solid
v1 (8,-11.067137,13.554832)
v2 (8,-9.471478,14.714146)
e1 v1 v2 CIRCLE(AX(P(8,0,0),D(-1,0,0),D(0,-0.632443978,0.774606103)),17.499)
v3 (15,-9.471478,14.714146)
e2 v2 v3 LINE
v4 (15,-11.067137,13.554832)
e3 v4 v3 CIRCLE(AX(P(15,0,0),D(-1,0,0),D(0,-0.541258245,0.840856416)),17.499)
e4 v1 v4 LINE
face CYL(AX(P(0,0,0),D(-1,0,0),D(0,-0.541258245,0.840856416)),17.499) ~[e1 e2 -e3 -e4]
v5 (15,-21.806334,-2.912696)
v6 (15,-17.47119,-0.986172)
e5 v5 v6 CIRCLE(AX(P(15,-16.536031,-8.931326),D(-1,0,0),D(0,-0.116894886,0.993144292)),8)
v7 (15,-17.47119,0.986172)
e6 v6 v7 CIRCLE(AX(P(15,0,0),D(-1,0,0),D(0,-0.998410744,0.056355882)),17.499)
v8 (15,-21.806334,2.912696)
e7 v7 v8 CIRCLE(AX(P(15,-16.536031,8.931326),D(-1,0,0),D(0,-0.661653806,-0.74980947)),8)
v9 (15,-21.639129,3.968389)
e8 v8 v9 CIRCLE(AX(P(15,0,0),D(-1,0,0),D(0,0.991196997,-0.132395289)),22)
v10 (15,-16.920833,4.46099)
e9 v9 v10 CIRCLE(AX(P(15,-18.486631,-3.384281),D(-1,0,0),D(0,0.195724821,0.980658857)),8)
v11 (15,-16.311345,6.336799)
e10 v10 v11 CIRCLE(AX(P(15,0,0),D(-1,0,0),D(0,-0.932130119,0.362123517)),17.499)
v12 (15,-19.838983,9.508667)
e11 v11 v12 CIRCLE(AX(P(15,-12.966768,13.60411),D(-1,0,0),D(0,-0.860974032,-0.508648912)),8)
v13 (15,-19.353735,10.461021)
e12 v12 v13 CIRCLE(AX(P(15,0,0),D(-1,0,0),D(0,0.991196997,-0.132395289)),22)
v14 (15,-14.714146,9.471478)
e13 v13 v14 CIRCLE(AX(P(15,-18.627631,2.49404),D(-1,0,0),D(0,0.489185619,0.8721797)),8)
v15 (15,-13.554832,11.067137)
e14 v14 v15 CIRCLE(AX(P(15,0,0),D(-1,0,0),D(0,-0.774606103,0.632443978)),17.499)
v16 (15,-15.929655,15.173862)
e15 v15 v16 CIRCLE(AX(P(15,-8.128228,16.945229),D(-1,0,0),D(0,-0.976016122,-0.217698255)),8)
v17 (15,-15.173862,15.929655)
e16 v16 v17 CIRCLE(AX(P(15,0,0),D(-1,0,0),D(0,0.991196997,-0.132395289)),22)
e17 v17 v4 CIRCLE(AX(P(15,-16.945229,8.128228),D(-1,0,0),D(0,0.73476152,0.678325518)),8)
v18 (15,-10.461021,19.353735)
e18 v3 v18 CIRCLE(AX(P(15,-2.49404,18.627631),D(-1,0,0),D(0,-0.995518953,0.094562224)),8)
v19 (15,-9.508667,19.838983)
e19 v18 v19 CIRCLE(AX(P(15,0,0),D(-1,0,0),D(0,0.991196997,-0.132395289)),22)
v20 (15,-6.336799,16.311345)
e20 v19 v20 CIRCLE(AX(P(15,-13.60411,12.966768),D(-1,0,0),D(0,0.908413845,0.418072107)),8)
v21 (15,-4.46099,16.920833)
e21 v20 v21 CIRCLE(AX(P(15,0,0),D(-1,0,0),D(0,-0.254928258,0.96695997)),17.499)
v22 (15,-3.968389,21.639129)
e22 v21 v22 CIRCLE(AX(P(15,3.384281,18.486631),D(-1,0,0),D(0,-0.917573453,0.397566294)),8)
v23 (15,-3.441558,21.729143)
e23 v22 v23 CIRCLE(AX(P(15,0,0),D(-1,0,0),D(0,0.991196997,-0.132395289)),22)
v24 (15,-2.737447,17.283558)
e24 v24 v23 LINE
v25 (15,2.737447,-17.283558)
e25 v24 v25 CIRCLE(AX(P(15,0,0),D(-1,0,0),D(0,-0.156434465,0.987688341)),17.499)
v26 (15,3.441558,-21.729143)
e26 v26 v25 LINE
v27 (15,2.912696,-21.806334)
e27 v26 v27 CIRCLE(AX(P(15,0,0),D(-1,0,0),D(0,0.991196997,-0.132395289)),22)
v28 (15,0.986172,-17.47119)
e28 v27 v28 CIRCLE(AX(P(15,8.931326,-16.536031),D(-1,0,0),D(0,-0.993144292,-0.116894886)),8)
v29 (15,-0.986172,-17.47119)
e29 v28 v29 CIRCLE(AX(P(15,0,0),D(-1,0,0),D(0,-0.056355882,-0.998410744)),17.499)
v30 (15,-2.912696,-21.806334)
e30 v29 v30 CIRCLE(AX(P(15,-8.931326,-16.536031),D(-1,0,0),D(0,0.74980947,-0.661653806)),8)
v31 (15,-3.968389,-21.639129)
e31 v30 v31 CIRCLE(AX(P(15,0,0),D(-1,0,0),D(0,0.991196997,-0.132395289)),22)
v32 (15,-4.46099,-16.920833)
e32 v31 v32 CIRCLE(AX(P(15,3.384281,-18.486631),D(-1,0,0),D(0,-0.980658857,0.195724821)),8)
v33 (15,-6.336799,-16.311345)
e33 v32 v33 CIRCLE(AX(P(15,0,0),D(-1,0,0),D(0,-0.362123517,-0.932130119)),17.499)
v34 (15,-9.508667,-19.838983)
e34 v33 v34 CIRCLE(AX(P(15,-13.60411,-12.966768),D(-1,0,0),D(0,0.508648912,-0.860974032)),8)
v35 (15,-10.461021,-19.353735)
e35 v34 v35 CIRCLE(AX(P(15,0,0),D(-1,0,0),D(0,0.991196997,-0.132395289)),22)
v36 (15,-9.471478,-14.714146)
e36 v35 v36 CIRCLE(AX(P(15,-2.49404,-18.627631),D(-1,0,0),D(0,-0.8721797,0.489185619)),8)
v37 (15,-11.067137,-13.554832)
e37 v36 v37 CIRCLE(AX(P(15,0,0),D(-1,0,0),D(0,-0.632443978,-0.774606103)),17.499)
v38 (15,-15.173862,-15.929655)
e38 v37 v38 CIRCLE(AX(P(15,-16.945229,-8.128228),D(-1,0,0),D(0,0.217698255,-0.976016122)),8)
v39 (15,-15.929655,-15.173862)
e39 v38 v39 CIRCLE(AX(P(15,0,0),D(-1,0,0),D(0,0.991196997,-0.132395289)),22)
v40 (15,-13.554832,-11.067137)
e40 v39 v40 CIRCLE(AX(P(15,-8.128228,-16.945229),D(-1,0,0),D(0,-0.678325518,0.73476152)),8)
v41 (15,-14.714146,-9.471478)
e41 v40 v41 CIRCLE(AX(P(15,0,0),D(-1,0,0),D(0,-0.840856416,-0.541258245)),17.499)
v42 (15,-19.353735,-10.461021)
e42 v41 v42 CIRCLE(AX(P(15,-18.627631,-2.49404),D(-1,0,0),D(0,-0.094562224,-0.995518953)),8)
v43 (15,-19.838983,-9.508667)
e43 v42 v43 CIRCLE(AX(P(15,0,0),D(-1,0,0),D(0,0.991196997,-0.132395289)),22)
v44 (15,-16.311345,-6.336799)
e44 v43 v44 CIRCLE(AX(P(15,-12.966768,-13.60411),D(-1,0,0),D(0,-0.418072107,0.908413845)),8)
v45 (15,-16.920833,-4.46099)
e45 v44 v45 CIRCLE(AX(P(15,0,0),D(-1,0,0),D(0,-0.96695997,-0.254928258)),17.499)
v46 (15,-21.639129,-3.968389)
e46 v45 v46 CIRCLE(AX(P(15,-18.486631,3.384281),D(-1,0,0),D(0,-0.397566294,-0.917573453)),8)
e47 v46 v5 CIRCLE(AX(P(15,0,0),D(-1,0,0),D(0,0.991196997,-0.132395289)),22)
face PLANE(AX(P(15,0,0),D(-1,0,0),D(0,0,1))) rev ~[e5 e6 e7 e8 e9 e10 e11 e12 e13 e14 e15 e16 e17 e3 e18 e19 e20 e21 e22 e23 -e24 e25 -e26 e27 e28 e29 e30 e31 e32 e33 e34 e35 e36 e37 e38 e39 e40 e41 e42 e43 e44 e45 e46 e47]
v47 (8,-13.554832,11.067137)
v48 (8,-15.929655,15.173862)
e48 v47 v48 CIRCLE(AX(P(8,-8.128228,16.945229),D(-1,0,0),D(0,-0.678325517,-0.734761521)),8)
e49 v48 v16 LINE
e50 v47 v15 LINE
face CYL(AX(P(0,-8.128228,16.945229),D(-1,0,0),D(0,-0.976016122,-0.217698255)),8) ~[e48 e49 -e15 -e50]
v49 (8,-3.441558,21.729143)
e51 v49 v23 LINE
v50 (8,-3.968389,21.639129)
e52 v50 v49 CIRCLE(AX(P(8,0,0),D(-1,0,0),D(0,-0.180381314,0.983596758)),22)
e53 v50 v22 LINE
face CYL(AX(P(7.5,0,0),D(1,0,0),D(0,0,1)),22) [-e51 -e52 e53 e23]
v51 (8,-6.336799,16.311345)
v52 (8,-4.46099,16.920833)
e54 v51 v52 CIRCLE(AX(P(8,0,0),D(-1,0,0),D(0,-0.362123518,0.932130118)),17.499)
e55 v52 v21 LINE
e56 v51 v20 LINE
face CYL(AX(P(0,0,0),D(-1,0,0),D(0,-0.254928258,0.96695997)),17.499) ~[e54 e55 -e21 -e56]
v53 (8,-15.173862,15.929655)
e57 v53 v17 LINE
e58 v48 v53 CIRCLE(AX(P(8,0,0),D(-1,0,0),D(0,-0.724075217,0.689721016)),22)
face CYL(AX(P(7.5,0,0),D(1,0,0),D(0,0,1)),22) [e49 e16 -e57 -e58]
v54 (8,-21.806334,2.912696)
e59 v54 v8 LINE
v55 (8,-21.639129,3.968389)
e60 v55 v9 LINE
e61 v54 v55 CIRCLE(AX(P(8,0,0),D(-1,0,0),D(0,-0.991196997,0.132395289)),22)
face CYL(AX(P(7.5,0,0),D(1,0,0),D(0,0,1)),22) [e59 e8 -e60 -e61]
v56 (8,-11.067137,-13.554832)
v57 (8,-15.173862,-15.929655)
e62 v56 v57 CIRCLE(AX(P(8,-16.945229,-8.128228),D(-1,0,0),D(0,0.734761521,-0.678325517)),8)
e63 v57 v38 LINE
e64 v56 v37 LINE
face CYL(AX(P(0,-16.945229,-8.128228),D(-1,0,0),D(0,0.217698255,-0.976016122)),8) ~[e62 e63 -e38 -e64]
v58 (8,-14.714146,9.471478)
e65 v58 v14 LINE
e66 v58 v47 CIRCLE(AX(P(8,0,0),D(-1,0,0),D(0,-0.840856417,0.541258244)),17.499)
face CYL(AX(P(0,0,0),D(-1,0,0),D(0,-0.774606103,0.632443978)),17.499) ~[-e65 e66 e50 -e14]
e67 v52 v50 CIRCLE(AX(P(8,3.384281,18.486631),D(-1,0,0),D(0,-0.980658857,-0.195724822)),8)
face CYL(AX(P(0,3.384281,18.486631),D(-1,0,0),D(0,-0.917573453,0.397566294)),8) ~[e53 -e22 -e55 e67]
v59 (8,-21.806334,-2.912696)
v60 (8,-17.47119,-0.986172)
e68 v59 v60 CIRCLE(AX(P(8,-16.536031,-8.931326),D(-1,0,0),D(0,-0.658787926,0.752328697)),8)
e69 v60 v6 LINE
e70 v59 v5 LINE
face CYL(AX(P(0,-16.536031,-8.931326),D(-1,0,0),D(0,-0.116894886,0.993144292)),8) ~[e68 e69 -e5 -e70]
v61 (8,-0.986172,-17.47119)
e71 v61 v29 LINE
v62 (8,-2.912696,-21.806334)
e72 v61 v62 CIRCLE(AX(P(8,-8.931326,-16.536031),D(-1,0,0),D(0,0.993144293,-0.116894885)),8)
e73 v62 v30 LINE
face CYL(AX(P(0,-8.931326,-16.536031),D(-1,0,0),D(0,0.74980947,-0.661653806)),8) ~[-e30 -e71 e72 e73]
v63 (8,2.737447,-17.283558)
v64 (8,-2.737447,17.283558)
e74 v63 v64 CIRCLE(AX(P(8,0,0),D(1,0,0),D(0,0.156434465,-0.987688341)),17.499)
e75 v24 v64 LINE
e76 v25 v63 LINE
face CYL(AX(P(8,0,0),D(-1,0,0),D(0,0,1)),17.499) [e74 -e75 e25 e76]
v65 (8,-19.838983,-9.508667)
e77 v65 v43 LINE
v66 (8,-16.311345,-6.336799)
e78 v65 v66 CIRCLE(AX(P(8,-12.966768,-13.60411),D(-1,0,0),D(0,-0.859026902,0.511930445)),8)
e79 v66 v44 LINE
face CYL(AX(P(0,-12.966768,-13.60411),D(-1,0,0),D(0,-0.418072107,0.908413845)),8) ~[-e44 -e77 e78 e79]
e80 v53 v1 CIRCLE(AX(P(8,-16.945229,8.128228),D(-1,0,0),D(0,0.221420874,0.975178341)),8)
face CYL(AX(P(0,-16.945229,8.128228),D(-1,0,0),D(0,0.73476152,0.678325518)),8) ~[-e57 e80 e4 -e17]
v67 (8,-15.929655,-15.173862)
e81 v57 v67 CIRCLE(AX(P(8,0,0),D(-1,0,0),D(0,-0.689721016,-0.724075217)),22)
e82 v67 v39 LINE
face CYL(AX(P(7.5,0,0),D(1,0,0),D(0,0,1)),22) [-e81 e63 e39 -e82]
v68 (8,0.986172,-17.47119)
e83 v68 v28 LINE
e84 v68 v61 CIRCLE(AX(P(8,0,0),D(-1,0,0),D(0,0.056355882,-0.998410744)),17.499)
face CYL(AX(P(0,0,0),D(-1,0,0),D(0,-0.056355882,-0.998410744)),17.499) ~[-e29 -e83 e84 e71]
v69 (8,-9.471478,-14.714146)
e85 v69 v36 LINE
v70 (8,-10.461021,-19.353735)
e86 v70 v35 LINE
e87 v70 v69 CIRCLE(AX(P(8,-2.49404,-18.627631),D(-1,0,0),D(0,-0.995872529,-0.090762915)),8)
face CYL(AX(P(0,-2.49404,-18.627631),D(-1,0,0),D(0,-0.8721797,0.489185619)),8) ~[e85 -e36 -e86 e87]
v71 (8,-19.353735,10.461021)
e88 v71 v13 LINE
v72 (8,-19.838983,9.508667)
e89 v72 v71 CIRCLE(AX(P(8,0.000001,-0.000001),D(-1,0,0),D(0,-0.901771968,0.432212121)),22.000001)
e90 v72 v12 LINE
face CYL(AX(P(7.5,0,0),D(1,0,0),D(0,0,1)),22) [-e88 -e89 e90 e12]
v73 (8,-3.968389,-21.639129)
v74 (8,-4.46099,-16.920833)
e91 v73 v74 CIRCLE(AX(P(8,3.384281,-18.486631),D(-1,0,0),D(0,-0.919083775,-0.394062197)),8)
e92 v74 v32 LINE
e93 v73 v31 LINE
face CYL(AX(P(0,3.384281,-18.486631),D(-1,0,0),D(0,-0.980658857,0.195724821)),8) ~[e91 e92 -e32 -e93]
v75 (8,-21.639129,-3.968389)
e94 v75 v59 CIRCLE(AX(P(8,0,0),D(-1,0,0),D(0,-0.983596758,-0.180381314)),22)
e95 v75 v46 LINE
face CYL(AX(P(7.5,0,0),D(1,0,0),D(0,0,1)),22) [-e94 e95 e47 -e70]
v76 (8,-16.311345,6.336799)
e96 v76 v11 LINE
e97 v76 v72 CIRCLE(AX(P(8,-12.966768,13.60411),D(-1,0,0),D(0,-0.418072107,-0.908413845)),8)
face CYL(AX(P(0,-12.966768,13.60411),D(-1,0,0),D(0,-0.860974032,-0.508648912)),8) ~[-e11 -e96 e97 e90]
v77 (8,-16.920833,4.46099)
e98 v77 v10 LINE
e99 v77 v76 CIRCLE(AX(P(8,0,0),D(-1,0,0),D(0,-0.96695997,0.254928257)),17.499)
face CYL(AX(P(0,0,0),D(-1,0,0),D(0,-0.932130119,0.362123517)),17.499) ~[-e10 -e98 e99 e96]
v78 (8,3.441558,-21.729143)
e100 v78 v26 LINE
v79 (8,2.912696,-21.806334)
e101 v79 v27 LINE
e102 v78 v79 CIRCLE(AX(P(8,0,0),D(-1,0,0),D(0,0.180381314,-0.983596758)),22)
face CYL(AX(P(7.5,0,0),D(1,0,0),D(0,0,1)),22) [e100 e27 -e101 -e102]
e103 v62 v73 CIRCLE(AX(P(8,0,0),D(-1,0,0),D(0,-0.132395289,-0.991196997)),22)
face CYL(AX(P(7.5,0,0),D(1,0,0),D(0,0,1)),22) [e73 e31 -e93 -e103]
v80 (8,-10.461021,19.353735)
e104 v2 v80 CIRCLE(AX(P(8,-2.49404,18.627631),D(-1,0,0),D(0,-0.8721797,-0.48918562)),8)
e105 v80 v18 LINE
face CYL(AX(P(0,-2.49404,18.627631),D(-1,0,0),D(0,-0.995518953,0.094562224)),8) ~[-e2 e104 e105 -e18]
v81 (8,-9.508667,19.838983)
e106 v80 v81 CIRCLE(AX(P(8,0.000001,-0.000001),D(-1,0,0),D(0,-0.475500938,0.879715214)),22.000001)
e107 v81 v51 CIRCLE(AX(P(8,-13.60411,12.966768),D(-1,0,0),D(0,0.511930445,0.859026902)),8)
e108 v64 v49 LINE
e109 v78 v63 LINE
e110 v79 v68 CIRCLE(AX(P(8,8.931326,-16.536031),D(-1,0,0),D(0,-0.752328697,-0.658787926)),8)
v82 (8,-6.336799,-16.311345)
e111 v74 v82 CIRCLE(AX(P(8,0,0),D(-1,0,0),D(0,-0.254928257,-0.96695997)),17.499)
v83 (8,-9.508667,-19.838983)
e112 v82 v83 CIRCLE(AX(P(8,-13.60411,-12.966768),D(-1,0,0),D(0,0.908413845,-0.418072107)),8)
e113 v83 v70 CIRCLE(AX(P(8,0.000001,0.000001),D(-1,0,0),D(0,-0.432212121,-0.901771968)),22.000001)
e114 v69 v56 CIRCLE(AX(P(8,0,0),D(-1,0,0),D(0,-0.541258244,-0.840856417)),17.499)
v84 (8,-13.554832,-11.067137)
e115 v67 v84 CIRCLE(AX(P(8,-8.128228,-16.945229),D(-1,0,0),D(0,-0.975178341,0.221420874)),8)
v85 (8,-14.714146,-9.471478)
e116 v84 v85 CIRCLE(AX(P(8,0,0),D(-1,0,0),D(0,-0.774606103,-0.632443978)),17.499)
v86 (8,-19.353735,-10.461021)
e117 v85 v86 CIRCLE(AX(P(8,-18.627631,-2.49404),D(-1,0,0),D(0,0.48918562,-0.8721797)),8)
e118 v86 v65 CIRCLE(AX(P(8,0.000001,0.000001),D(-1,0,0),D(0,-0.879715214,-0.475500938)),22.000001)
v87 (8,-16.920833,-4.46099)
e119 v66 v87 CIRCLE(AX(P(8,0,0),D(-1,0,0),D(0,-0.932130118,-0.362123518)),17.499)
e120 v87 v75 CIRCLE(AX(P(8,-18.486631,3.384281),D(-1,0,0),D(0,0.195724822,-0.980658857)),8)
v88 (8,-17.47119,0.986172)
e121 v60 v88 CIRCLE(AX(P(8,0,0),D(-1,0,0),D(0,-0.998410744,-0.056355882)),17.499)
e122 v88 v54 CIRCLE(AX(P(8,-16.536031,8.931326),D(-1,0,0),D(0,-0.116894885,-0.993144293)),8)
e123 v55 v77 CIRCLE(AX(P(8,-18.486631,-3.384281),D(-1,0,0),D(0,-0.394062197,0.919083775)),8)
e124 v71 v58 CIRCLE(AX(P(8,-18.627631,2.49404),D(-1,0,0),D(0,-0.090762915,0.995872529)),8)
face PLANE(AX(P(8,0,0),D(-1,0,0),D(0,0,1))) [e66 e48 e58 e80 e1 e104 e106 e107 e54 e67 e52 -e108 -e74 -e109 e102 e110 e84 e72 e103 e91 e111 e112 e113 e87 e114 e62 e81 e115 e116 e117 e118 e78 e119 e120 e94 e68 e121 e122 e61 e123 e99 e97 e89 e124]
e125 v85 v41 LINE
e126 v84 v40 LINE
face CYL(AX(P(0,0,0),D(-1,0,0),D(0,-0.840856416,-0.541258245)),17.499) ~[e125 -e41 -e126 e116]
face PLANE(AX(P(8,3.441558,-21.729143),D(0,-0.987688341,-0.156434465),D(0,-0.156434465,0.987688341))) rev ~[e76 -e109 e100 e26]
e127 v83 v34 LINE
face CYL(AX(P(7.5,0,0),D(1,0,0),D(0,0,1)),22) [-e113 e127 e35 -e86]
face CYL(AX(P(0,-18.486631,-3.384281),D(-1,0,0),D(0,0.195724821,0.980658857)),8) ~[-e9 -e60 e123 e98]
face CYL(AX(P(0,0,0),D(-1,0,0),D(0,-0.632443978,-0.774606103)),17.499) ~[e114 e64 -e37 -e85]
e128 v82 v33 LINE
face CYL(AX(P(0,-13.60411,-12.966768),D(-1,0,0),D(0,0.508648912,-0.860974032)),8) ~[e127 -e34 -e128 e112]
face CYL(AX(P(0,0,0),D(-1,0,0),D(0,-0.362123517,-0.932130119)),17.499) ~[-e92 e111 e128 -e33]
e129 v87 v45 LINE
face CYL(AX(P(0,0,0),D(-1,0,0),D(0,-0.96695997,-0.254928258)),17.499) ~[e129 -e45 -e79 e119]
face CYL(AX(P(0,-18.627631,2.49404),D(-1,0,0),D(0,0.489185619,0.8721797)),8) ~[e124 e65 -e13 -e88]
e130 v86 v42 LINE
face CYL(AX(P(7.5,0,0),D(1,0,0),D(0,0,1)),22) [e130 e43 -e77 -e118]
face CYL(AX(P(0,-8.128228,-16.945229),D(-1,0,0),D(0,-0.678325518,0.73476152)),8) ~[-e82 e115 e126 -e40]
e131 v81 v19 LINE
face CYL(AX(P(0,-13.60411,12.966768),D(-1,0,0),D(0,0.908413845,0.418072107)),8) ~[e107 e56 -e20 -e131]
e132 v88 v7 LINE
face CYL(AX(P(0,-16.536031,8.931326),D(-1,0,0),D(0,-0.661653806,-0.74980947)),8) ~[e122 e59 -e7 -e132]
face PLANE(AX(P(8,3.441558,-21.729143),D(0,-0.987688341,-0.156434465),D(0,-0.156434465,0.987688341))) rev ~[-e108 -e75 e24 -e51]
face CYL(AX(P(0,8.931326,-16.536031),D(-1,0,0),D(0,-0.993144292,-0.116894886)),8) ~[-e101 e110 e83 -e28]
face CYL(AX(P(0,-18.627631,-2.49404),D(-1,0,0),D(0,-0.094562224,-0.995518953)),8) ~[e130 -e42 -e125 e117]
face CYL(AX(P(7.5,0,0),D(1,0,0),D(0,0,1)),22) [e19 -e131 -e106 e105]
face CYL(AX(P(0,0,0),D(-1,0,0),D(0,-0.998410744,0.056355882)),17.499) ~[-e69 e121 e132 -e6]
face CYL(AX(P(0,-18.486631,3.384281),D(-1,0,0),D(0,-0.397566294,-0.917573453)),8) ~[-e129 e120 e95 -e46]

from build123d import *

# Parameters (mm, degrees)
BASPROSKE_W         = 15
BASPROSKE_H         = 22
TOOTHCUT_DEPTH      = 35.539832078
TEETHCUTS_COUNT     = 20
TEETHCUTS_ANGLE     = 342
BORSKE_R            = 0.5
BORE_DEPTH          = 50.0000508
SKETCH1_R           = 11.1
CUT_EXTRUDE1_DEPTH  = 16
CUT_EXTRUDE2_DEPTH  = 8
SKETCH3_R           = 11.1
BOSS_EXTRUDE1_DEPTH = 7
CUT_EXTRUDE3_DEPTH  = 7
SKETCH5_R           = 17.499
BOSS_EXTRUDE2_DEPTH = 7


with BuildPart() as part:
    # BasProSke → Base-Revolve (revolve)
    with BuildSketch(Plane(origin=(0, 0, 0), x_dir=(1, 0, 0), z_dir=(0, 1, 0)), mode=Mode.PRIVATE) as base_revolve_sk:
        with Locations((7.5, 11)):
            Rectangle(BASPROSKE_W, BASPROSKE_H)
    revolve(base_revolve_sk.sketch.rotate(Axis((-10, 0, 0), (1, 0, 0)), 180), axis=Axis((-10, 0, 0), (1, 0, 0)))

    # TooCutSke → ToothCut (cut, through all)
    with BuildSketch(Plane(origin=(0, 0, 0), x_dir=(0, 0, -1), z_dir=(1, 0, 0))):
        with BuildLine():
            ThreePointArc((0.986171591, 17.471189616), (0, 17.499), (-0.986171591, 17.471189616))
            ThreePointArc((-0.986171591, 17.471189616), (-1.626916196, 19.798789858), (-2.932850173, 21.829260982))
            ThreePointArc((-2.932850173, 21.829260982), (0, 22.0254), (2.932850173, 21.829260982))
            ThreePointArc((2.932850173, 21.829260982), (1.626916196, 19.798789858), (0.986171591, 17.471189616))
        make_face()
    toothcut = extrude(amount=TOOTHCUT_DEPTH, mode=Mode.SUBTRACT)

    # TeethCuts: ToothCut ×20 about axis
    teethcuts_axis = Axis((-10, 0, 0), (1, 0, 0))
    for i in range(1, TEETHCUTS_COUNT):
        add(toothcut.rotate(teethcuts_axis, i * TEETHCUTS_ANGLE / (TEETHCUTS_COUNT - 1)), mode=Mode.SUBTRACT)

    # BorSke → Bore (cut, symmetric)
    with BuildSketch(Plane(origin=(0, 0, 0), x_dir=(0, 0, -1), z_dir=(1, 0, 0))):
        with Locations(Location((0, 0, 0), (0, 0, 180))):
            Circle(BORSKE_R)
    extrude(amount=BORE_DEPTH, both=True, mode=Mode.SUBTRACT)

    # Sketch1 → Cut-Extrude1 (cut)
    with BuildSketch(Plane.ZY):
        Circle(SKETCH1_R)
    extrude(amount=-CUT_EXTRUDE1_DEPTH, mode=Mode.SUBTRACT)

    # Sketch2 → Cut-Extrude2 (cut)
    with BuildSketch(Plane.ZY):
        with BuildLine():
            ThreePointArc((17.471189616, 0.986171591), (19.784848102, 1.620704589), (21.806333941, 2.912696354))
            ThreePointArc((21.806333941, 2.912696354), (21.729143493, 3.441558231), (21.639128664, 3.968388926))
            ThreePointArc((21.639128664, 3.968388926), (19.317333972, 4.572472634), (16.920832513, 4.460989585))
            ThreePointArc((16.920832513, 4.460989585), (16.642537979, 5.407488385), (16.31134495, 6.336799421))
            ThreePointArc((16.31134495, 6.336799421), (18.31568345, 7.655235955), (19.838983319, 9.50866662))
            ThreePointArc((19.838983319, 9.50866662), (19.602143532, 9.987790994), (19.353734704, 10.461020648))
            ThreePointArc((19.353734704, 10.461020648), (16.958904602, 10.318064378), (14.714146429, 9.471478019))
            ThreePointArc((14.714146429, 9.471478019), (14.156988385, 10.28565413), (13.554832194, 11.067137173))
            ThreePointArc((13.554832194, 11.067137173), (15.05365209, 12.940419489), (15.929654782, 15.173862347))
            ThreePointArc((15.929654782, 15.173862347), (15.556349186, 15.556349186), (15.173862347, 15.929654782))
            ThreePointArc((15.173862347, 15.929654782), (12.940419489, 15.05365209), (11.067137173, 13.554832194))
            ThreePointArc((11.067137173, 13.554832194), (10.28565413, 14.156988385), (9.471478019, 14.714146429))
            ThreePointArc((9.471478019, 14.714146429), (10.318064378, 16.958904602), (10.461020648, 19.353734704))
            ThreePointArc((10.461020648, 19.353734704), (9.987790994, 19.602143532), (9.50866662, 19.838983319))
            ThreePointArc((9.50866662, 19.838983319), (7.655235955, 18.31568345), (6.336799421, 16.31134495))
            ThreePointArc((6.336799421, 16.31134495), (5.407488385, 16.642537979), (4.460989585, 16.920832513))
            ThreePointArc((4.460989585, 16.920832513), (4.572472634, 19.317333972), (3.968388926, 21.639128664))
            ThreePointArc((3.968388926, 21.639128664), (3.441558231, 21.729143493), (2.912696354, 21.806333941))
            ThreePointArc((2.912696354, 21.806333941), (1.620704589, 19.784848102), (0.986171591, 17.471189616))
            ThreePointArc((0.986171591, 17.471189616), (0, 17.499), (-0.986171591, 17.471189616))
            ThreePointArc((-0.986171591, 17.471189616), (-1.620704589, 19.784848102), (-2.912696354, 21.806333941))
            ThreePointArc((-2.912696354, 21.806333941), (-3.441558231, 21.729143493), (-3.968388926, 21.639128664))
            ThreePointArc((-3.968388926, 21.639128664), (-4.572472634, 19.317333972), (-4.460989585, 16.920832513))
            ThreePointArc((-4.460989585, 16.920832513), (-5.407488385, 16.642537979), (-6.336799421, 16.31134495))
            ThreePointArc((-6.336799421, 16.31134495), (-7.655235955, 18.31568345), (-9.50866662, 19.838983319))
            ThreePointArc((-9.50866662, 19.838983319), (-9.987790994, 19.602143532), (-10.461020648, 19.353734704))
            ThreePointArc((-10.461020648, 19.353734704), (-10.318064378, 16.958904602), (-9.471478019, 14.714146429))
            ThreePointArc((-9.471478019, 14.714146429), (-10.28565413, 14.156988385), (-11.067137173, 13.554832194))
            ThreePointArc((-11.067137173, 13.554832194), (-12.940419489, 15.05365209), (-15.173862347, 15.929654782))
            ThreePointArc((-15.173862347, 15.929654782), (-15.556349186, 15.556349186), (-15.929654782, 15.173862347))
            ThreePointArc((-15.929654782, 15.173862347), (-15.05365209, 12.940419489), (-13.554832194, 11.067137173))
            ThreePointArc((-13.554832194, 11.067137173), (-14.156988385, 10.28565413), (-14.714146429, 9.471478019))
            ThreePointArc((-14.714146429, 9.471478019), (-16.958904602, 10.318064378), (-19.353734704, 10.461020648))
            ThreePointArc((-19.353734704, 10.461020648), (-19.602143532, 9.987790994), (-19.838983319, 9.50866662))
            ThreePointArc((-19.838983319, 9.50866662), (-18.31568345, 7.655235955), (-16.31134495, 6.336799421))
            ThreePointArc((-16.31134495, 6.336799421), (-16.642537979, 5.407488385), (-16.920832513, 4.460989585))
            ThreePointArc((-16.920832513, 4.460989585), (-19.317333972, 4.572472634), (-21.639128664, 3.968388926))
            ThreePointArc((-21.639128664, 3.968388926), (-21.729143493, 3.441558231), (-21.806333941, 2.912696354))
            ThreePointArc((-21.806333941, 2.912696354), (-19.784848102, 1.620704589), (-17.471189616, 0.986171591))
            ThreePointArc((-17.471189616, 0.986171591), (-17.499, 0), (-17.471189616, -0.986171591))
            ThreePointArc((-17.471189616, -0.986171591), (-19.784848102, -1.620704589), (-21.806333941, -2.912696354))
            ThreePointArc((-21.806333941, -2.912696354), (-21.729143493, -3.441558231), (-21.639128664, -3.968388926))
            ThreePointArc((-21.639128664, -3.968388926), (-19.317333972, -4.572472634), (-16.920832513, -4.460989585))
            ThreePointArc((-16.920832513, -4.460989585), (-16.642537979, -5.407488385), (-16.31134495, -6.336799421))
            ThreePointArc((-16.31134495, -6.336799421), (-18.31568345, -7.655235955), (-19.838983319, -9.50866662))
            ThreePointArc((-19.838983319, -9.50866662), (-19.602143532, -9.987790994), (-19.353734704, -10.461020648))
            ThreePointArc((-19.353734704, -10.461020648), (-16.958904602, -10.318064378), (-14.714146429, -9.471478019))
            ThreePointArc((-14.714146429, -9.471478019), (-14.156988385, -10.28565413), (-13.554832194, -11.067137173))
            ThreePointArc((-13.554832194, -11.067137173), (-15.05365209, -12.940419489), (-15.929654782, -15.173862347))
            ThreePointArc((-15.929654782, -15.173862347), (-15.556349186, -15.556349186), (-15.173862347, -15.929654782))
            ThreePointArc((-15.173862347, -15.929654782), (-12.940419489, -15.05365209), (-11.067137173, -13.554832194))
            ThreePointArc((-11.067137173, -13.554832194), (-10.28565413, -14.156988385), (-9.471478019, -14.714146429))
            ThreePointArc((-9.471478019, -14.714146429), (-10.318064378, -16.958904602), (-10.461020648, -19.353734704))
            ThreePointArc((-10.461020648, -19.353734704), (-9.987790994, -19.602143532), (-9.50866662, -19.838983319))
            ThreePointArc((-9.50866662, -19.838983319), (-7.655235955, -18.31568345), (-6.336799421, -16.31134495))
            ThreePointArc((-6.336799421, -16.31134495), (-5.407488385, -16.642537979), (-4.460989585, -16.920832513))
            ThreePointArc((-4.460989585, -16.920832513), (-4.572472634, -19.317333972), (-3.968388926, -21.639128664))
            ThreePointArc((-3.968388926, -21.639128664), (-3.441558231, -21.729143493), (-2.912696354, -21.806333941))
            ThreePointArc((-2.912696354, -21.806333941), (-1.620704589, -19.784848102), (-0.986171591, -17.471189616))
            ThreePointArc((-0.986171591, -17.471189616), (0, -17.499), (0.986171591, -17.471189616))
            ThreePointArc((0.986171591, -17.471189616), (1.620704589, -19.784848102), (2.912696354, -21.806333941))
            ThreePointArc((2.912696354, -21.806333941), (3.441558231, -21.729143493), (3.968388926, -21.639128664))
            ThreePointArc((3.968388926, -21.639128664), (4.572472634, -19.317333972), (4.460989585, -16.920832513))
            ThreePointArc((4.460989585, -16.920832513), (5.407488385, -16.642537979), (6.336799421, -16.31134495))
            ThreePointArc((6.336799421, -16.31134495), (7.655235955, -18.31568345), (9.50866662, -19.838983319))
            ThreePointArc((9.50866662, -19.838983319), (9.987790994, -19.602143532), (10.461020648, -19.353734704))
            ThreePointArc((10.461020648, -19.353734704), (10.318064378, -16.958904602), (9.471478019, -14.714146429))
            ThreePointArc((9.471478019, -14.714146429), (10.28565413, -14.156988385), (11.067137173, -13.554832194))
            ThreePointArc((11.067137173, -13.554832194), (12.940419489, -15.05365209), (15.173862347, -15.929654782))
            ThreePointArc((15.173862347, -15.929654782), (15.556349186, -15.556349186), (15.929654782, -15.173862347))
            ThreePointArc((15.929654782, -15.173862347), (15.05365209, -12.940419489), (13.554832194, -11.067137173))
            ThreePointArc((13.554832194, -11.067137173), (14.156988385, -10.28565413), (14.714146429, -9.471478019))
            ThreePointArc((14.714146429, -9.471478019), (16.958904602, -10.318064378), (19.353734704, -10.461020648))
            ThreePointArc((19.353734704, -10.461020648), (19.602143532, -9.987790994), (19.838983319, -9.50866662))
            ThreePointArc((19.838983319, -9.50866662), (18.31568345, -7.655235955), (16.31134495, -6.336799421))
            ThreePointArc((16.31134495, -6.336799421), (16.642537979, -5.407488385), (16.920832513, -4.460989585))
            ThreePointArc((16.920832513, -4.460989585), (19.317333972, -4.572472634), (21.639128664, -3.968388926))
            ThreePointArc((21.639128664, -3.968388926), (21.729143493, -3.441558231), (21.806333941, -2.912696354))
            ThreePointArc((21.806333941, -2.912696354), (19.784848102, -1.620704589), (17.471189616, -0.986171591))
            ThreePointArc((17.471189616, -0.986171591), (17.499, 0), (17.471189616, 0.986171591))
        make_face()
    extrude(amount=-CUT_EXTRUDE2_DEPTH, mode=Mode.SUBTRACT)

    # Sketch3 → Boss-Extrude1 (add)
    with BuildSketch(Plane.ZY.offset(-8)):
        Circle(SKETCH3_R)
    extrude(amount=-BOSS_EXTRUDE1_DEPTH)

    # Sketch4 → Cut-Extrude3 (cut)
    with BuildSketch(Plane.ZY.offset(-8)):
        Polygon((21.729143493, -3.441558231), (0, 0), (-21.729143493, 3.441558231), (-17.979863548, 27.113580164), (25.478423438, 20.230463702), align=None)
    extrude(amount=-CUT_EXTRUDE3_DEPTH, mode=Mode.SUBTRACT)

    # Sketch5 → Boss-Extrude2 (add)
    with BuildSketch(Plane.ZY.offset(-8)):
        Circle(SKETCH5_R)
    extrude(amount=-BOSS_EXTRUDE2_DEPTH)


solid = part.part
